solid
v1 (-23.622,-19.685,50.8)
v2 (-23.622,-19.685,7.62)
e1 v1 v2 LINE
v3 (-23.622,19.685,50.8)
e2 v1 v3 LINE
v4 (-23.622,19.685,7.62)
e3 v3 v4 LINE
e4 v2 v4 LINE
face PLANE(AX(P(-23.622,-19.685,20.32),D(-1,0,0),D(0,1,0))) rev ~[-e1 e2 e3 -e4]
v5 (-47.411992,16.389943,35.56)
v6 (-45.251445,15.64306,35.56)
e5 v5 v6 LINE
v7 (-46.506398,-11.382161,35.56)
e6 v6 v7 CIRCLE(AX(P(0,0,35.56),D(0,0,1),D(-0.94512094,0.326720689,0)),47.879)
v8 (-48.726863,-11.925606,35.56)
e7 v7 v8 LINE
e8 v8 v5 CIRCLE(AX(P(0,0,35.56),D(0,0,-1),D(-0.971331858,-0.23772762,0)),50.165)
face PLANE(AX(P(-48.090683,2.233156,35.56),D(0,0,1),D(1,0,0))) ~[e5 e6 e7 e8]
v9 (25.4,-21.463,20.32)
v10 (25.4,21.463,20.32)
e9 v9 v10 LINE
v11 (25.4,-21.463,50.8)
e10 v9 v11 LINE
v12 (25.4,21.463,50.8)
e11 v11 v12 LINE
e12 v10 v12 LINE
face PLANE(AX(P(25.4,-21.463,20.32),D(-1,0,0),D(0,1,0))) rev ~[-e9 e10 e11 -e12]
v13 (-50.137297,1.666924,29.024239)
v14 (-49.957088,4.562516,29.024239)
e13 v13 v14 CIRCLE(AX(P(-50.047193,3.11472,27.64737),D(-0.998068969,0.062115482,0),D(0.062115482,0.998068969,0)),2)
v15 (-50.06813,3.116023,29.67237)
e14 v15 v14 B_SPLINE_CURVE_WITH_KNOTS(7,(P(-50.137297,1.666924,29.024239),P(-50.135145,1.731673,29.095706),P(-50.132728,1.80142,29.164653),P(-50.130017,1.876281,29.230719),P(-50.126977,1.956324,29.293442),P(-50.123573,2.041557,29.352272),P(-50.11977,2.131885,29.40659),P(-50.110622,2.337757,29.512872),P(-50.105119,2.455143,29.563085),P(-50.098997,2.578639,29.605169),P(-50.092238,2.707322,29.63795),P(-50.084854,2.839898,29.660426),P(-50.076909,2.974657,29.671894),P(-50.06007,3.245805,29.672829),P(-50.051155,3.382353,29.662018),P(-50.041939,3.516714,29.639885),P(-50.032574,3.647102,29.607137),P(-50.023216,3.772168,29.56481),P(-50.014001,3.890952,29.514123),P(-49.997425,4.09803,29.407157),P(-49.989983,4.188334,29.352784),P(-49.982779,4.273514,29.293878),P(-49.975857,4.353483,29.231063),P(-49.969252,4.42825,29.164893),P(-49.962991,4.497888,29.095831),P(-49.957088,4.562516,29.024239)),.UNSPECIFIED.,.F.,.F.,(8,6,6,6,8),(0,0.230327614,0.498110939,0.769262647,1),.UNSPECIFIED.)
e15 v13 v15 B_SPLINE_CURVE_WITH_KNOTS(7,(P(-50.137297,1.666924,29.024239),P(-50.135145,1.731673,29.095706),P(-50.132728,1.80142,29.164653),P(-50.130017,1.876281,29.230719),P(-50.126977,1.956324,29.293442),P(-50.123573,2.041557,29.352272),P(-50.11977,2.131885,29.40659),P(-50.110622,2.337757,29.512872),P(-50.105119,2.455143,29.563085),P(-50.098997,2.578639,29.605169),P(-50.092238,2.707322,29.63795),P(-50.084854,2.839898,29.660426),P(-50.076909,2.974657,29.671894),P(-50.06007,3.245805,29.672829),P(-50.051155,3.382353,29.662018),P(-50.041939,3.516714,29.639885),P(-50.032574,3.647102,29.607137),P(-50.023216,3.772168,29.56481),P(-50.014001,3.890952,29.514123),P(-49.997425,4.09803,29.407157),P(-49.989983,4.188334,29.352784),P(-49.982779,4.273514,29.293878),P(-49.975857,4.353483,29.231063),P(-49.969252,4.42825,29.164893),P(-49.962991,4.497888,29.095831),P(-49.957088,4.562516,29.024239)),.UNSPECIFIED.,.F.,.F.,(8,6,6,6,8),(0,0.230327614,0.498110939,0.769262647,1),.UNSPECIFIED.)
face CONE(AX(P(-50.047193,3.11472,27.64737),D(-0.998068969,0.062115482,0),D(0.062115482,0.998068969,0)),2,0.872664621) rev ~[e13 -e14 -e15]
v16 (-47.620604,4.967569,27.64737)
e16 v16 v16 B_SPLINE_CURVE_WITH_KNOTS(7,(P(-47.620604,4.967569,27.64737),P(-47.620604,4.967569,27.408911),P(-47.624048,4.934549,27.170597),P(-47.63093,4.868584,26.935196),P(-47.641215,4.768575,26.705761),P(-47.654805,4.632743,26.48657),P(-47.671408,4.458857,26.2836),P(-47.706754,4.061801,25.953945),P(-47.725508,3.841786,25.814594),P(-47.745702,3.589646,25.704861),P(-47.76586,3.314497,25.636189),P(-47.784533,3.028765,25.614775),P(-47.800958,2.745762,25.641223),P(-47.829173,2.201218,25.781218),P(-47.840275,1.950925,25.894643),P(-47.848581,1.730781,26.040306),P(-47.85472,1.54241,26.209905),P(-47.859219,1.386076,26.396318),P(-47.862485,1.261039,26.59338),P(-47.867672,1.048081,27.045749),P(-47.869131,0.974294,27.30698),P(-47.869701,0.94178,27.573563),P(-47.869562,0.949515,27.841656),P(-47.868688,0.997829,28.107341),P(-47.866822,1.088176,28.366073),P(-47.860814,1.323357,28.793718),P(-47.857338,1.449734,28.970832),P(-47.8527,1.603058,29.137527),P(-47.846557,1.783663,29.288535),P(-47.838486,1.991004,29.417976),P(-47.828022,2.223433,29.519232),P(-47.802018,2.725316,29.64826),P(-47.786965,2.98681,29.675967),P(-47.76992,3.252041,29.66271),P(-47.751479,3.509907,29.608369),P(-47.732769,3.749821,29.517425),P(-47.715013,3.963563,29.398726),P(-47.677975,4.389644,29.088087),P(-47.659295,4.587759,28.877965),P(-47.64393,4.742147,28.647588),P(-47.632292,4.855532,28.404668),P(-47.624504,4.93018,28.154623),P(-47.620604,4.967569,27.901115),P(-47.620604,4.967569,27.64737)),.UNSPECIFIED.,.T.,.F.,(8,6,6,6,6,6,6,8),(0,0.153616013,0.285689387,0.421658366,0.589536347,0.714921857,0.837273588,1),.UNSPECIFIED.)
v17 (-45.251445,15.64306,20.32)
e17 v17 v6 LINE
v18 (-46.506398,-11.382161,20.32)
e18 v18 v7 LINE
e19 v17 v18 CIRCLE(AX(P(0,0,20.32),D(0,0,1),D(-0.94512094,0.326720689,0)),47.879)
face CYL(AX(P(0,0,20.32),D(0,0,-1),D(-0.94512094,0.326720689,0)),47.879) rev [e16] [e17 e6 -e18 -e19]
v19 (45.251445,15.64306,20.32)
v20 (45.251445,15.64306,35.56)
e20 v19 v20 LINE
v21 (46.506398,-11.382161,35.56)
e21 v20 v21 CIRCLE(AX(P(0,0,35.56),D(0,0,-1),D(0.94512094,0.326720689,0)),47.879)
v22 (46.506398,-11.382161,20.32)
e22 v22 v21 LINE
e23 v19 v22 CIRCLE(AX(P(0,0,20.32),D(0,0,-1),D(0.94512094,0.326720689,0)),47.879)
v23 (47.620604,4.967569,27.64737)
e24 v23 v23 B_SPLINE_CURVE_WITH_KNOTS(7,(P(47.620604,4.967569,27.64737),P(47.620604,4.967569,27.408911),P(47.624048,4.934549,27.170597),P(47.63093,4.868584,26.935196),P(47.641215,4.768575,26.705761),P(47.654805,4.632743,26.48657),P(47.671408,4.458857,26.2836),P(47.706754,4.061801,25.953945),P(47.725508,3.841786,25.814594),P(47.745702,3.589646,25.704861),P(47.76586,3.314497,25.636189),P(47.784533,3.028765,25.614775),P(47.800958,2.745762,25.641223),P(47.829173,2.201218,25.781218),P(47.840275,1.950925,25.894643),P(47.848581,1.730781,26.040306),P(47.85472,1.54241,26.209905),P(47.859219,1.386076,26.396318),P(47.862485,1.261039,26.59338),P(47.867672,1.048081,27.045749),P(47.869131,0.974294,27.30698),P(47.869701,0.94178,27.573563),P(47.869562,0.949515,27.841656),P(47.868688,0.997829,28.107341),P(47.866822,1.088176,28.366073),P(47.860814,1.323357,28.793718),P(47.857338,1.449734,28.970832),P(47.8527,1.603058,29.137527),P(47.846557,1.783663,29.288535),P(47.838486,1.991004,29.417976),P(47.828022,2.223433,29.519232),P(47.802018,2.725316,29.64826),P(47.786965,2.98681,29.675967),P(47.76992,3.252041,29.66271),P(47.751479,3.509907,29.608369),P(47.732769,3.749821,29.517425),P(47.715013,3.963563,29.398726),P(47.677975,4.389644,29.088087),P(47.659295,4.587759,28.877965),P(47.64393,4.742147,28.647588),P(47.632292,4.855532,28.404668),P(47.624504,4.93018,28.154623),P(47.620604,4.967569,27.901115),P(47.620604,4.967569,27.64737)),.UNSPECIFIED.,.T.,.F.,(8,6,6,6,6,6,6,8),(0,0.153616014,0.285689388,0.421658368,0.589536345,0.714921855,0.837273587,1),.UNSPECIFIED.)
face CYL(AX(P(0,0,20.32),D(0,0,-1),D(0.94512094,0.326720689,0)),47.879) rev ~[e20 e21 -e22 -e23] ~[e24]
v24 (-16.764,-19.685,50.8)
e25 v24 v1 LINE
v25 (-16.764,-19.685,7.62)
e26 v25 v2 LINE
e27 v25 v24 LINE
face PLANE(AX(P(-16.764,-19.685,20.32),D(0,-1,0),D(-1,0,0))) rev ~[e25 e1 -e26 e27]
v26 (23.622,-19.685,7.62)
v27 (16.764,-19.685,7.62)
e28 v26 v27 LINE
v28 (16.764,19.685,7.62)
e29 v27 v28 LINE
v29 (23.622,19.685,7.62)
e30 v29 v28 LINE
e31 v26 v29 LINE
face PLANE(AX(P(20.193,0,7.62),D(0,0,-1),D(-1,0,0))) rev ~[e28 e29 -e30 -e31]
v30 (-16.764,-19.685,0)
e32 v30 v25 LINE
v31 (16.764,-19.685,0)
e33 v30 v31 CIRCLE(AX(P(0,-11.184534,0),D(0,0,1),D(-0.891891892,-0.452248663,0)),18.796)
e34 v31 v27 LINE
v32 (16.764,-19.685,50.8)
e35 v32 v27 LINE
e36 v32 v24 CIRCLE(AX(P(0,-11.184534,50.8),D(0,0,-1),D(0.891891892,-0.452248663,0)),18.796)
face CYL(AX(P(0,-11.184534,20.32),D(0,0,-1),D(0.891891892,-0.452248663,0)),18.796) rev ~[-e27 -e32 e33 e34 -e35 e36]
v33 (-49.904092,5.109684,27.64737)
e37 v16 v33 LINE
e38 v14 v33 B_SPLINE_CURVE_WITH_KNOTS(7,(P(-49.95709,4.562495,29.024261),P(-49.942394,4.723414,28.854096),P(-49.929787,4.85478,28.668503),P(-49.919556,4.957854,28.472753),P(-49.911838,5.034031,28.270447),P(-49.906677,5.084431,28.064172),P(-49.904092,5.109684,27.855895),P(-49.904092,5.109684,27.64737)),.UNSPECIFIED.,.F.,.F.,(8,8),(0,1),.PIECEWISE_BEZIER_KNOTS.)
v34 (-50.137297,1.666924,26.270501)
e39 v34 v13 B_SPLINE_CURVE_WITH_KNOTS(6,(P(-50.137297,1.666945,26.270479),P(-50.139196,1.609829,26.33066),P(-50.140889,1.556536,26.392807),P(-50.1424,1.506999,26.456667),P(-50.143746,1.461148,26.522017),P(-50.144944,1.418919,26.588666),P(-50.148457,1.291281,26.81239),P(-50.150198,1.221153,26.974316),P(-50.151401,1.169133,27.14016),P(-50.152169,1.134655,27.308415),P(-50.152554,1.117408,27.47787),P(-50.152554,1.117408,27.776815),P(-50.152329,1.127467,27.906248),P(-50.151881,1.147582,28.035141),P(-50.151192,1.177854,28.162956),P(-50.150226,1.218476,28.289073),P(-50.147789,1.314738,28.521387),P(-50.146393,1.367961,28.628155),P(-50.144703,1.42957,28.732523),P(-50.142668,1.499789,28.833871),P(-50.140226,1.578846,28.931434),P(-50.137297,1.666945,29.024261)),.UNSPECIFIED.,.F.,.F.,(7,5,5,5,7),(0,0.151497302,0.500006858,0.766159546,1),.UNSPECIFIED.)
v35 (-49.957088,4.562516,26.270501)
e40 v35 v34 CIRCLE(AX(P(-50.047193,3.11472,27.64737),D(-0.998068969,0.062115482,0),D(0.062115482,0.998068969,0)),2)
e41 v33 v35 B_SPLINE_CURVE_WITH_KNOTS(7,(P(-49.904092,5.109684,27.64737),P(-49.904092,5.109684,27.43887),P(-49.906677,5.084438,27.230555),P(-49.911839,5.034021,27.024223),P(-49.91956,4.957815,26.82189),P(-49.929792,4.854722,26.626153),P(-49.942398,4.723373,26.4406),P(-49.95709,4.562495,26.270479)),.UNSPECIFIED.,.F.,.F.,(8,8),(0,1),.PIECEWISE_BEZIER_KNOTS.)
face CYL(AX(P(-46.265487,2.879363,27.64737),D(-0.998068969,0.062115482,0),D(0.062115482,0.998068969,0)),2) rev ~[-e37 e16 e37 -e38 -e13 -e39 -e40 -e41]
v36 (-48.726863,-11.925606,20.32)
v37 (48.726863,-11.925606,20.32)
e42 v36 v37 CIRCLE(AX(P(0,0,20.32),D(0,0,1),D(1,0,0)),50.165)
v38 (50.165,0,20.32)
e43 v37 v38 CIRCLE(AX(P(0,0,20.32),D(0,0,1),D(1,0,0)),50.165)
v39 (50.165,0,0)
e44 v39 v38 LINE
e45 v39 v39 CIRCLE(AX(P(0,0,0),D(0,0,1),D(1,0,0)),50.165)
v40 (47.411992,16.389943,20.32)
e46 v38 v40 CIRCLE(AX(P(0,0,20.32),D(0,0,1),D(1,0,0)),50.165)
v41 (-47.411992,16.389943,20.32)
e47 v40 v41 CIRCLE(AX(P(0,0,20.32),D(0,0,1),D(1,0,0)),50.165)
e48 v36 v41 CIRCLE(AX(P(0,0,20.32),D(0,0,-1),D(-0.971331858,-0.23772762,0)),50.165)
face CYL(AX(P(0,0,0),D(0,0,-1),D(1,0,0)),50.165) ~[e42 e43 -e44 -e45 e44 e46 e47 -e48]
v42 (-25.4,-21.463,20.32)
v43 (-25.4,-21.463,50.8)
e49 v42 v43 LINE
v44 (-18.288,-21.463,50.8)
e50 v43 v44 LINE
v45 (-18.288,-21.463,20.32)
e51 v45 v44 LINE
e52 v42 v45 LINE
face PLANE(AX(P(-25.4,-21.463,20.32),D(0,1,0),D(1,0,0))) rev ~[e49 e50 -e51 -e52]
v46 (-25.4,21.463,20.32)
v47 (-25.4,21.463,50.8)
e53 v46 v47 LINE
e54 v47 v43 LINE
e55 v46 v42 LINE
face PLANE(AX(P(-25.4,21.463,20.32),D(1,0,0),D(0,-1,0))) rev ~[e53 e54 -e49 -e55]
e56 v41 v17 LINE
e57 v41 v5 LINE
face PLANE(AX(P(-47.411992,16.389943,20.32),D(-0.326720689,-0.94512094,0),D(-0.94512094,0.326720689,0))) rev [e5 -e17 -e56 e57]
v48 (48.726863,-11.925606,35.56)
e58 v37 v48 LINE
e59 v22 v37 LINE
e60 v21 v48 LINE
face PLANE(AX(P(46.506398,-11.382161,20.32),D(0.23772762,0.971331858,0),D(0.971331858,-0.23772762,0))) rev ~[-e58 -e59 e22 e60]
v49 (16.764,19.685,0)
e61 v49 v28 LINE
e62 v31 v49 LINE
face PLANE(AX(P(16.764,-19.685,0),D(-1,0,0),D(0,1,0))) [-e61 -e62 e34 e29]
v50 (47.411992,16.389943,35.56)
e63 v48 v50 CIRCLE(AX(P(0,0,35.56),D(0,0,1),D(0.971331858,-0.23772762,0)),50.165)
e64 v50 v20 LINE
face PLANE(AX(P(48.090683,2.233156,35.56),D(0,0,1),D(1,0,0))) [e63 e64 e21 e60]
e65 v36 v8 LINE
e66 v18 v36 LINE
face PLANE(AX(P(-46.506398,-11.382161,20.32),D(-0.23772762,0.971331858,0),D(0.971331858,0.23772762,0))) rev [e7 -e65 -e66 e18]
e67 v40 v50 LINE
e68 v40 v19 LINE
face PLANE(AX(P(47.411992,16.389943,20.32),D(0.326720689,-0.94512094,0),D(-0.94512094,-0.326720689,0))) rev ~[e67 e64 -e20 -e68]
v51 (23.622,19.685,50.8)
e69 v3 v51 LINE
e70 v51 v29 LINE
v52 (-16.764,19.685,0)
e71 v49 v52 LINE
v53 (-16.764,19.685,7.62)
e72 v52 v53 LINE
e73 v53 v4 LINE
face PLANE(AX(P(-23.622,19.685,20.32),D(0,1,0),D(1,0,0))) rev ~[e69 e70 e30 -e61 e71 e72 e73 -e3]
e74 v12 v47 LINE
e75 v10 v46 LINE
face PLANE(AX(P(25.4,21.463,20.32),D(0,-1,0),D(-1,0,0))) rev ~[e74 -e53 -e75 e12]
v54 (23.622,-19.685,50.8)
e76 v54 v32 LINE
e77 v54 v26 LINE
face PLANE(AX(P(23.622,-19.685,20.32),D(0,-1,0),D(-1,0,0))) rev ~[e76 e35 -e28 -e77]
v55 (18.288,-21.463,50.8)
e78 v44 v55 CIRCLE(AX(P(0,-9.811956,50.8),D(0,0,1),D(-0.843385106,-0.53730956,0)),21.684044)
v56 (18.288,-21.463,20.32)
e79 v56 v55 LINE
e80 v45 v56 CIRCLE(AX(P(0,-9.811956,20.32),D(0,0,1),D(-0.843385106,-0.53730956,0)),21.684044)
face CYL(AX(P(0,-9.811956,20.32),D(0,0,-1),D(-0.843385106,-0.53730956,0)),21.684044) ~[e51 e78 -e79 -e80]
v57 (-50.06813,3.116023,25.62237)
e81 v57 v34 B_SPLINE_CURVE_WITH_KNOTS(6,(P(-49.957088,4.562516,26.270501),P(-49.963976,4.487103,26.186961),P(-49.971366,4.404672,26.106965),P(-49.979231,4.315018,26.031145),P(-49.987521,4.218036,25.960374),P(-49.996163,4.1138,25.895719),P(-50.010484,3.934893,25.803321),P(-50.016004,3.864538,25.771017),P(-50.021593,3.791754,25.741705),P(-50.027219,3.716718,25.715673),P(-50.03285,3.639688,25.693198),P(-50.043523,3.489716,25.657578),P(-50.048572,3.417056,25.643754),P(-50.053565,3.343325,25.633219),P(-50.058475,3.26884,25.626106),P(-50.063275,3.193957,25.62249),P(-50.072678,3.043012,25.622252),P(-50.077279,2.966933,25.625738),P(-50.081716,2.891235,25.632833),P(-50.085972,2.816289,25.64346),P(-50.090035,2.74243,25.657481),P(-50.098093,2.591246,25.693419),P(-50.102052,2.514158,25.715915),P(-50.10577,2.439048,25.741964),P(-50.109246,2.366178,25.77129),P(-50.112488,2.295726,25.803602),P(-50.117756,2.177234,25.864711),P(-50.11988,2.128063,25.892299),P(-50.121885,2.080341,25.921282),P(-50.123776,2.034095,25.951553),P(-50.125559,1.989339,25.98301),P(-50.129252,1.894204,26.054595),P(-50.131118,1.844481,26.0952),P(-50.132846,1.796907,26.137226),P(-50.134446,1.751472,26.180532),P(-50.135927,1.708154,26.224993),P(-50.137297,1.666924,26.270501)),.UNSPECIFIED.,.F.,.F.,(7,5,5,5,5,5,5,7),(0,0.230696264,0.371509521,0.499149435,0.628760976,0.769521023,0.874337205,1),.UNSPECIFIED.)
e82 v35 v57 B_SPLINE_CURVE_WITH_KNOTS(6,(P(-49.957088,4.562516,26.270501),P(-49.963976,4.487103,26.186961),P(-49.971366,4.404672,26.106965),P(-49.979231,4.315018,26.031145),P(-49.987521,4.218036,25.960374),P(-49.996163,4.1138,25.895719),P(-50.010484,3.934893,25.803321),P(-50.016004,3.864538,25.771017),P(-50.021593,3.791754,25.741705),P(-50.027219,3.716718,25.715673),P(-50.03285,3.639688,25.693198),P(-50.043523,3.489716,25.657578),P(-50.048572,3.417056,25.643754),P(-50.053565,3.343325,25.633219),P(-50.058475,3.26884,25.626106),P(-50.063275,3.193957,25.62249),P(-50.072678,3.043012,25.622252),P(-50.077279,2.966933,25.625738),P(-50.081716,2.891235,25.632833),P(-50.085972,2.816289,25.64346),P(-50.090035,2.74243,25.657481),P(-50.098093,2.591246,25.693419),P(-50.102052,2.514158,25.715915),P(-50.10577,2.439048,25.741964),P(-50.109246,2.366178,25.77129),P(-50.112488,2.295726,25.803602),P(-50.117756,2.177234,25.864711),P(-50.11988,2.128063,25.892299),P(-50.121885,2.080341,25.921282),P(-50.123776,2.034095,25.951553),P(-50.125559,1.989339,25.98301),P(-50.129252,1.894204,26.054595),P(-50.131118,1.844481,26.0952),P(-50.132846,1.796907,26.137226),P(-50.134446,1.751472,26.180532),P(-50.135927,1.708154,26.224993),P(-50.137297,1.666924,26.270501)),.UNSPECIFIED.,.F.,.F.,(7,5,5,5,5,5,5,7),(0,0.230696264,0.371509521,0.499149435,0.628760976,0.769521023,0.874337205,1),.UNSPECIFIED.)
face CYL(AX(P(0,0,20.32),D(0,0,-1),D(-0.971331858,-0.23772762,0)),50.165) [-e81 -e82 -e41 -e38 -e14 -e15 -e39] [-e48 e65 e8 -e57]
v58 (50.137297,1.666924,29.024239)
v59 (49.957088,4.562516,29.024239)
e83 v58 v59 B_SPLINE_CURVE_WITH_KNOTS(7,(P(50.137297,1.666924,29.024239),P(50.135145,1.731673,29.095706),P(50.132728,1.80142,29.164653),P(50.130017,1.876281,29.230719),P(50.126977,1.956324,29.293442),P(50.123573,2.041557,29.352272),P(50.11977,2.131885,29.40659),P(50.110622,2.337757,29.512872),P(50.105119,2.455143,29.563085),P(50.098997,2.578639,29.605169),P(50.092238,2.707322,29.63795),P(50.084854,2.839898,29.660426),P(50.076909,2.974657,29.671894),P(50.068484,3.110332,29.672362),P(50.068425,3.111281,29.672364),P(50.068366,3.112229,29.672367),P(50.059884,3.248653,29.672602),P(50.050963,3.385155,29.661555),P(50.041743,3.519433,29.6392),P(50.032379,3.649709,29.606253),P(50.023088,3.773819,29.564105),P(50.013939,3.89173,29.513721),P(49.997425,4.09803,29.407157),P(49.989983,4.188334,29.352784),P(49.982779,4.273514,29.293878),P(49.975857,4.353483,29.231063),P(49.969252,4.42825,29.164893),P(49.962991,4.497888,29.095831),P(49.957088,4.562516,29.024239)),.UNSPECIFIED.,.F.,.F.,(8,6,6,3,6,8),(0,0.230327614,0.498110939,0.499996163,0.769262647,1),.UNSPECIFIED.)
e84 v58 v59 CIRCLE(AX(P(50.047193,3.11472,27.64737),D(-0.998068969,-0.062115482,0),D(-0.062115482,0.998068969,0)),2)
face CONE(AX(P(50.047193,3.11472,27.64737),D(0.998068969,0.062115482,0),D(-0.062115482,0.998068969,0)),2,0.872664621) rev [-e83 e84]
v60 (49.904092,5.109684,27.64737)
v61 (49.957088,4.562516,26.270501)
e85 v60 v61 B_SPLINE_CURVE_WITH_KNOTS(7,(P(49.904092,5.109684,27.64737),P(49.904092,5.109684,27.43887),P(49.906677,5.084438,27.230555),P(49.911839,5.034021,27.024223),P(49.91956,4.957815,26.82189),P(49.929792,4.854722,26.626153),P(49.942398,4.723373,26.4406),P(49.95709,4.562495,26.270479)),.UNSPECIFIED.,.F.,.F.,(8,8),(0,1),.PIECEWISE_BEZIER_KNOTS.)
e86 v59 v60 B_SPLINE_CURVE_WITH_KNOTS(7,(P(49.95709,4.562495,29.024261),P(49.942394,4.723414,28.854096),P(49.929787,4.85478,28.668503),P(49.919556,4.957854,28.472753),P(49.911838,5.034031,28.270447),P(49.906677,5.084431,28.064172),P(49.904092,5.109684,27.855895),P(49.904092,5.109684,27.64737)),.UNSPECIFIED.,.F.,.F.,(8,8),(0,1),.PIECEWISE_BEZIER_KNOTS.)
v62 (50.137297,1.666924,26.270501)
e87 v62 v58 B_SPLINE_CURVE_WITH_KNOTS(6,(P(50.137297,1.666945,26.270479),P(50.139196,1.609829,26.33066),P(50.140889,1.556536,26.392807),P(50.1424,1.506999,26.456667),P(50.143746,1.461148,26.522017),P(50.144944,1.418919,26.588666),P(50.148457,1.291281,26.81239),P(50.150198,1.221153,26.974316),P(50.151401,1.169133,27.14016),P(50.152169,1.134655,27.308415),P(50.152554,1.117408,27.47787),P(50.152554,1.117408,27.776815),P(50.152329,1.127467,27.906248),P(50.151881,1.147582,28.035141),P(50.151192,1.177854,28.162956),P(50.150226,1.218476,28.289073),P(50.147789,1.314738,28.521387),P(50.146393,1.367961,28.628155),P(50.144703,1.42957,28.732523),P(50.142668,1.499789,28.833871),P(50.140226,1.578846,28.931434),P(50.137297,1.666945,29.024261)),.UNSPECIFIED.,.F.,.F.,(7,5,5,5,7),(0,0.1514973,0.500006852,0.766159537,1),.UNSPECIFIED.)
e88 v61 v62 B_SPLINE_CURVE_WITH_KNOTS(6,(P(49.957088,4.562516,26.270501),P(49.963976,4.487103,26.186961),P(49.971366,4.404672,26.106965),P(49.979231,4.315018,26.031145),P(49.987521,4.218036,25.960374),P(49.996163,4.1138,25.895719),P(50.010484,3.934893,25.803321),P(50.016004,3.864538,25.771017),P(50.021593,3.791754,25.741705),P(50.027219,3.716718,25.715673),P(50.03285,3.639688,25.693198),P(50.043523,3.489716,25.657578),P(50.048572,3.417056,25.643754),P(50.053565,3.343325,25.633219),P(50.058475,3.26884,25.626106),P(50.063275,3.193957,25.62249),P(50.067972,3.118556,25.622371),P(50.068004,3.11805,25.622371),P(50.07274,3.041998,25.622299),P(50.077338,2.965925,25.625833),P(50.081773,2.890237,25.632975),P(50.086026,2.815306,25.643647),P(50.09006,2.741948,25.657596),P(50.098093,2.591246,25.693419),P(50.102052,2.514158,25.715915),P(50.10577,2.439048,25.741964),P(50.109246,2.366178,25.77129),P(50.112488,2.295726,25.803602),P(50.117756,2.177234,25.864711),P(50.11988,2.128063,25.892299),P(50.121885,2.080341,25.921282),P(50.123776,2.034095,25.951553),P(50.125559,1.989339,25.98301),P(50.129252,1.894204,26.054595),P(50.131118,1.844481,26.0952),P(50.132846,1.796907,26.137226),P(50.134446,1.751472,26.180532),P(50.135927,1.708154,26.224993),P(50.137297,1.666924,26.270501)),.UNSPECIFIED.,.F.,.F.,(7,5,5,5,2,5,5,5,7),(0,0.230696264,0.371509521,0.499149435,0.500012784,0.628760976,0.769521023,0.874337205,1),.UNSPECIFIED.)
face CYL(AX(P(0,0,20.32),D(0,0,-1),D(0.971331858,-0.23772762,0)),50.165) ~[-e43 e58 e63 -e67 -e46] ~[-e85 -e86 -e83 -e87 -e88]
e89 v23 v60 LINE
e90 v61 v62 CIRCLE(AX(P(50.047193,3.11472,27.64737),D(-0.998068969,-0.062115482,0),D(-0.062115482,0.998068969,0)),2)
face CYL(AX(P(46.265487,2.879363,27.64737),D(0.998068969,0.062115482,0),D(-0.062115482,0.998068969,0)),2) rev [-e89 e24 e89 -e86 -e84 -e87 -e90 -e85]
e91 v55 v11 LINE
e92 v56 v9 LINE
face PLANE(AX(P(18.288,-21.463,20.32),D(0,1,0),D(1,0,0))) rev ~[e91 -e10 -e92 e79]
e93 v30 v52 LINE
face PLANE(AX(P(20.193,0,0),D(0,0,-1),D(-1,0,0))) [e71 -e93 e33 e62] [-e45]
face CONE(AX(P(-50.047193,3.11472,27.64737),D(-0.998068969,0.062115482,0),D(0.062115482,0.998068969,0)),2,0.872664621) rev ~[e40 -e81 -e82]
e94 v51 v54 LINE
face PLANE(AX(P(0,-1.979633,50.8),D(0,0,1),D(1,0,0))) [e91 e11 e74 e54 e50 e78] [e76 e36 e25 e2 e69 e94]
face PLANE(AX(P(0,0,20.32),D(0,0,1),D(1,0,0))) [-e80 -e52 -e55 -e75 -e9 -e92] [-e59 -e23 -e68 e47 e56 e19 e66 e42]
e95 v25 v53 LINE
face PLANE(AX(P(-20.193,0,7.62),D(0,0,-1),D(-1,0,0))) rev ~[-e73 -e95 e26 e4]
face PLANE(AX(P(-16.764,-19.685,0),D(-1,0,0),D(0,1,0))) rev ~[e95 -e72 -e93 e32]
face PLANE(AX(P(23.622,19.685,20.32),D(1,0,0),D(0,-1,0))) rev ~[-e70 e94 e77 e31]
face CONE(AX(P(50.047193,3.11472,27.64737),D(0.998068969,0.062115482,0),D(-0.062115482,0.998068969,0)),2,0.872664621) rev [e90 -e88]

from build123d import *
from build123d.topology import SkipClean

# Parameters (mm, degrees)
SKETCH1_R           = 50.165
BOSS_EXTRUDE1_DEPTH = 20.32
SKETCH4_W           = 6.858
SKETCH4_H           = 39.37
BOSS_EXTRUDE3_DEPTH = 7.62
BOSS_EXTRUDE4_DEPTH = 30.48
BOSS_EXTRUDE5_DEPTH = 15.24


with BuildPart() as part:
    # Sketch1 → Boss-Extrude1 (new body)
    with BuildSketch(Plane.XY):
        Circle(SKETCH1_R)
        with BuildLine():
            Line((16.764, -19.685), (23.622, -19.685))
            Line((23.622, -19.685), (23.622, 19.685))
            Line((23.622, 19.685), (-23.622, 19.685))
            Line((-23.622, 19.685), (-23.622, -19.685))
            Line((-23.622, -19.685), (-16.764, -19.685))
            ThreePointArc((-16.764, -19.685), (0, -29.98053413), (16.764, -19.685))
        make_face(mode=Mode.SUBTRACT)
    extrude(amount=BOSS_EXTRUDE1_DEPTH)

    # Sketch4 → Boss-Extrude3 (add)
    with BuildSketch(Plane(origin=(0, 0, 0), x_dir=(-1, 0, 0), z_dir=(0, 0, -1))):
        with Locations((-20.193, 0)):
            Rectangle(SKETCH4_W, SKETCH4_H)
        with Locations((20.193, 0)):
            Rectangle(SKETCH4_W, SKETCH4_H)
    extrude(amount=-BOSS_EXTRUDE3_DEPTH)

    # Sketch5 → Boss-Extrude4 (add)
    with BuildSketch(Plane.XY.offset(20.32)):
        with BuildLine():
            ThreePointArc((-18.288, -21.463), (0, -31.496), (18.288, -21.463))
            Line((18.288, -21.463), (25.4, -21.463))
            Line((25.4, -21.463), (25.4, 21.463))
            Line((25.4, 21.463), (-25.4, 21.463))
            Line((-25.4, 21.463), (-25.4, -21.463))
            Line((-25.4, -21.463), (-18.288, -21.463))
        make_face()
        with BuildLine():
            Line((-16.764, -19.685), (-23.622, -19.685))
            Line((-23.622, -19.685), (-23.622, 19.685))
            Line((-23.622, 19.685), (23.622, 19.685))
            Line((23.622, 19.685), (23.622, -19.685))
            Line((23.622, -19.685), (16.764, -19.685))
            ThreePointArc((16.764, -19.685), (0, -29.98053413), (-16.764, -19.685))
        make_face(mode=Mode.SUBTRACT)
    extrude(amount=BOSS_EXTRUDE4_DEPTH)

    # Sketch6 → Boss-Extrude5 (add)
    with BuildSketch(Plane.XY.offset(20.32)):
        with BuildLine():
            Line((47.411991955, 16.389943375), (45.251445486, 15.64305988))
            ThreePointArc((45.251445486, 15.64305988), (47.827461768, 2.220932657), (46.506398035, -11.382160729))
            Line((46.506398035, -11.382160729), (48.726862662, -11.925606068))
            ThreePointArc((48.726862662, -11.925606068), (50.111001056, 2.326971882), (47.411991955, 16.389943375))
        make_face()
    boss_extrude5 = extrude(amount=BOSS_EXTRUDE5_DEPTH)

    # Sketch8 → Ø4.0mm Dowel Hole1 (revolve, cut)
    with BuildSketch(Plane(origin=(50.068129829, 3.116023177, 27.647369776), x_dir=(-0.062115482456496916, 0.9980689689791966, 0), z_dir=(0, 0, 1))):
        Polygon((0, 0), (0, 5.011721238), (2, 3.81), (2, 0.020977491), (2.025, 0), align=None)
    f_4_0mm_dowel_hole1 = revolve(axis=Axis((56.405867782, 3.510456491, 27.647369776), (-0.9980689689791966, -0.06211548245649691, 0)), mode=Mode.SUBTRACT)

    # Mirror1: Boss-Extrude5, Ø4.0mm Dowel Hole1 across plane
    with SkipClean():  # the faces are left unmerged after this step: merging them gives an invalid solid
        add(boss_extrude5.mirror(Plane(origin=(0, 0, 0), x_dir=(0, 0, 1), z_dir=(1, 0, 0))))
        add(f_4_0mm_dowel_hole1.mirror(Plane(origin=(0, 0, 0), x_dir=(0, 0, 1), z_dir=(1, 0, 0))), mode=Mode.SUBTRACT)


solid = part.part
